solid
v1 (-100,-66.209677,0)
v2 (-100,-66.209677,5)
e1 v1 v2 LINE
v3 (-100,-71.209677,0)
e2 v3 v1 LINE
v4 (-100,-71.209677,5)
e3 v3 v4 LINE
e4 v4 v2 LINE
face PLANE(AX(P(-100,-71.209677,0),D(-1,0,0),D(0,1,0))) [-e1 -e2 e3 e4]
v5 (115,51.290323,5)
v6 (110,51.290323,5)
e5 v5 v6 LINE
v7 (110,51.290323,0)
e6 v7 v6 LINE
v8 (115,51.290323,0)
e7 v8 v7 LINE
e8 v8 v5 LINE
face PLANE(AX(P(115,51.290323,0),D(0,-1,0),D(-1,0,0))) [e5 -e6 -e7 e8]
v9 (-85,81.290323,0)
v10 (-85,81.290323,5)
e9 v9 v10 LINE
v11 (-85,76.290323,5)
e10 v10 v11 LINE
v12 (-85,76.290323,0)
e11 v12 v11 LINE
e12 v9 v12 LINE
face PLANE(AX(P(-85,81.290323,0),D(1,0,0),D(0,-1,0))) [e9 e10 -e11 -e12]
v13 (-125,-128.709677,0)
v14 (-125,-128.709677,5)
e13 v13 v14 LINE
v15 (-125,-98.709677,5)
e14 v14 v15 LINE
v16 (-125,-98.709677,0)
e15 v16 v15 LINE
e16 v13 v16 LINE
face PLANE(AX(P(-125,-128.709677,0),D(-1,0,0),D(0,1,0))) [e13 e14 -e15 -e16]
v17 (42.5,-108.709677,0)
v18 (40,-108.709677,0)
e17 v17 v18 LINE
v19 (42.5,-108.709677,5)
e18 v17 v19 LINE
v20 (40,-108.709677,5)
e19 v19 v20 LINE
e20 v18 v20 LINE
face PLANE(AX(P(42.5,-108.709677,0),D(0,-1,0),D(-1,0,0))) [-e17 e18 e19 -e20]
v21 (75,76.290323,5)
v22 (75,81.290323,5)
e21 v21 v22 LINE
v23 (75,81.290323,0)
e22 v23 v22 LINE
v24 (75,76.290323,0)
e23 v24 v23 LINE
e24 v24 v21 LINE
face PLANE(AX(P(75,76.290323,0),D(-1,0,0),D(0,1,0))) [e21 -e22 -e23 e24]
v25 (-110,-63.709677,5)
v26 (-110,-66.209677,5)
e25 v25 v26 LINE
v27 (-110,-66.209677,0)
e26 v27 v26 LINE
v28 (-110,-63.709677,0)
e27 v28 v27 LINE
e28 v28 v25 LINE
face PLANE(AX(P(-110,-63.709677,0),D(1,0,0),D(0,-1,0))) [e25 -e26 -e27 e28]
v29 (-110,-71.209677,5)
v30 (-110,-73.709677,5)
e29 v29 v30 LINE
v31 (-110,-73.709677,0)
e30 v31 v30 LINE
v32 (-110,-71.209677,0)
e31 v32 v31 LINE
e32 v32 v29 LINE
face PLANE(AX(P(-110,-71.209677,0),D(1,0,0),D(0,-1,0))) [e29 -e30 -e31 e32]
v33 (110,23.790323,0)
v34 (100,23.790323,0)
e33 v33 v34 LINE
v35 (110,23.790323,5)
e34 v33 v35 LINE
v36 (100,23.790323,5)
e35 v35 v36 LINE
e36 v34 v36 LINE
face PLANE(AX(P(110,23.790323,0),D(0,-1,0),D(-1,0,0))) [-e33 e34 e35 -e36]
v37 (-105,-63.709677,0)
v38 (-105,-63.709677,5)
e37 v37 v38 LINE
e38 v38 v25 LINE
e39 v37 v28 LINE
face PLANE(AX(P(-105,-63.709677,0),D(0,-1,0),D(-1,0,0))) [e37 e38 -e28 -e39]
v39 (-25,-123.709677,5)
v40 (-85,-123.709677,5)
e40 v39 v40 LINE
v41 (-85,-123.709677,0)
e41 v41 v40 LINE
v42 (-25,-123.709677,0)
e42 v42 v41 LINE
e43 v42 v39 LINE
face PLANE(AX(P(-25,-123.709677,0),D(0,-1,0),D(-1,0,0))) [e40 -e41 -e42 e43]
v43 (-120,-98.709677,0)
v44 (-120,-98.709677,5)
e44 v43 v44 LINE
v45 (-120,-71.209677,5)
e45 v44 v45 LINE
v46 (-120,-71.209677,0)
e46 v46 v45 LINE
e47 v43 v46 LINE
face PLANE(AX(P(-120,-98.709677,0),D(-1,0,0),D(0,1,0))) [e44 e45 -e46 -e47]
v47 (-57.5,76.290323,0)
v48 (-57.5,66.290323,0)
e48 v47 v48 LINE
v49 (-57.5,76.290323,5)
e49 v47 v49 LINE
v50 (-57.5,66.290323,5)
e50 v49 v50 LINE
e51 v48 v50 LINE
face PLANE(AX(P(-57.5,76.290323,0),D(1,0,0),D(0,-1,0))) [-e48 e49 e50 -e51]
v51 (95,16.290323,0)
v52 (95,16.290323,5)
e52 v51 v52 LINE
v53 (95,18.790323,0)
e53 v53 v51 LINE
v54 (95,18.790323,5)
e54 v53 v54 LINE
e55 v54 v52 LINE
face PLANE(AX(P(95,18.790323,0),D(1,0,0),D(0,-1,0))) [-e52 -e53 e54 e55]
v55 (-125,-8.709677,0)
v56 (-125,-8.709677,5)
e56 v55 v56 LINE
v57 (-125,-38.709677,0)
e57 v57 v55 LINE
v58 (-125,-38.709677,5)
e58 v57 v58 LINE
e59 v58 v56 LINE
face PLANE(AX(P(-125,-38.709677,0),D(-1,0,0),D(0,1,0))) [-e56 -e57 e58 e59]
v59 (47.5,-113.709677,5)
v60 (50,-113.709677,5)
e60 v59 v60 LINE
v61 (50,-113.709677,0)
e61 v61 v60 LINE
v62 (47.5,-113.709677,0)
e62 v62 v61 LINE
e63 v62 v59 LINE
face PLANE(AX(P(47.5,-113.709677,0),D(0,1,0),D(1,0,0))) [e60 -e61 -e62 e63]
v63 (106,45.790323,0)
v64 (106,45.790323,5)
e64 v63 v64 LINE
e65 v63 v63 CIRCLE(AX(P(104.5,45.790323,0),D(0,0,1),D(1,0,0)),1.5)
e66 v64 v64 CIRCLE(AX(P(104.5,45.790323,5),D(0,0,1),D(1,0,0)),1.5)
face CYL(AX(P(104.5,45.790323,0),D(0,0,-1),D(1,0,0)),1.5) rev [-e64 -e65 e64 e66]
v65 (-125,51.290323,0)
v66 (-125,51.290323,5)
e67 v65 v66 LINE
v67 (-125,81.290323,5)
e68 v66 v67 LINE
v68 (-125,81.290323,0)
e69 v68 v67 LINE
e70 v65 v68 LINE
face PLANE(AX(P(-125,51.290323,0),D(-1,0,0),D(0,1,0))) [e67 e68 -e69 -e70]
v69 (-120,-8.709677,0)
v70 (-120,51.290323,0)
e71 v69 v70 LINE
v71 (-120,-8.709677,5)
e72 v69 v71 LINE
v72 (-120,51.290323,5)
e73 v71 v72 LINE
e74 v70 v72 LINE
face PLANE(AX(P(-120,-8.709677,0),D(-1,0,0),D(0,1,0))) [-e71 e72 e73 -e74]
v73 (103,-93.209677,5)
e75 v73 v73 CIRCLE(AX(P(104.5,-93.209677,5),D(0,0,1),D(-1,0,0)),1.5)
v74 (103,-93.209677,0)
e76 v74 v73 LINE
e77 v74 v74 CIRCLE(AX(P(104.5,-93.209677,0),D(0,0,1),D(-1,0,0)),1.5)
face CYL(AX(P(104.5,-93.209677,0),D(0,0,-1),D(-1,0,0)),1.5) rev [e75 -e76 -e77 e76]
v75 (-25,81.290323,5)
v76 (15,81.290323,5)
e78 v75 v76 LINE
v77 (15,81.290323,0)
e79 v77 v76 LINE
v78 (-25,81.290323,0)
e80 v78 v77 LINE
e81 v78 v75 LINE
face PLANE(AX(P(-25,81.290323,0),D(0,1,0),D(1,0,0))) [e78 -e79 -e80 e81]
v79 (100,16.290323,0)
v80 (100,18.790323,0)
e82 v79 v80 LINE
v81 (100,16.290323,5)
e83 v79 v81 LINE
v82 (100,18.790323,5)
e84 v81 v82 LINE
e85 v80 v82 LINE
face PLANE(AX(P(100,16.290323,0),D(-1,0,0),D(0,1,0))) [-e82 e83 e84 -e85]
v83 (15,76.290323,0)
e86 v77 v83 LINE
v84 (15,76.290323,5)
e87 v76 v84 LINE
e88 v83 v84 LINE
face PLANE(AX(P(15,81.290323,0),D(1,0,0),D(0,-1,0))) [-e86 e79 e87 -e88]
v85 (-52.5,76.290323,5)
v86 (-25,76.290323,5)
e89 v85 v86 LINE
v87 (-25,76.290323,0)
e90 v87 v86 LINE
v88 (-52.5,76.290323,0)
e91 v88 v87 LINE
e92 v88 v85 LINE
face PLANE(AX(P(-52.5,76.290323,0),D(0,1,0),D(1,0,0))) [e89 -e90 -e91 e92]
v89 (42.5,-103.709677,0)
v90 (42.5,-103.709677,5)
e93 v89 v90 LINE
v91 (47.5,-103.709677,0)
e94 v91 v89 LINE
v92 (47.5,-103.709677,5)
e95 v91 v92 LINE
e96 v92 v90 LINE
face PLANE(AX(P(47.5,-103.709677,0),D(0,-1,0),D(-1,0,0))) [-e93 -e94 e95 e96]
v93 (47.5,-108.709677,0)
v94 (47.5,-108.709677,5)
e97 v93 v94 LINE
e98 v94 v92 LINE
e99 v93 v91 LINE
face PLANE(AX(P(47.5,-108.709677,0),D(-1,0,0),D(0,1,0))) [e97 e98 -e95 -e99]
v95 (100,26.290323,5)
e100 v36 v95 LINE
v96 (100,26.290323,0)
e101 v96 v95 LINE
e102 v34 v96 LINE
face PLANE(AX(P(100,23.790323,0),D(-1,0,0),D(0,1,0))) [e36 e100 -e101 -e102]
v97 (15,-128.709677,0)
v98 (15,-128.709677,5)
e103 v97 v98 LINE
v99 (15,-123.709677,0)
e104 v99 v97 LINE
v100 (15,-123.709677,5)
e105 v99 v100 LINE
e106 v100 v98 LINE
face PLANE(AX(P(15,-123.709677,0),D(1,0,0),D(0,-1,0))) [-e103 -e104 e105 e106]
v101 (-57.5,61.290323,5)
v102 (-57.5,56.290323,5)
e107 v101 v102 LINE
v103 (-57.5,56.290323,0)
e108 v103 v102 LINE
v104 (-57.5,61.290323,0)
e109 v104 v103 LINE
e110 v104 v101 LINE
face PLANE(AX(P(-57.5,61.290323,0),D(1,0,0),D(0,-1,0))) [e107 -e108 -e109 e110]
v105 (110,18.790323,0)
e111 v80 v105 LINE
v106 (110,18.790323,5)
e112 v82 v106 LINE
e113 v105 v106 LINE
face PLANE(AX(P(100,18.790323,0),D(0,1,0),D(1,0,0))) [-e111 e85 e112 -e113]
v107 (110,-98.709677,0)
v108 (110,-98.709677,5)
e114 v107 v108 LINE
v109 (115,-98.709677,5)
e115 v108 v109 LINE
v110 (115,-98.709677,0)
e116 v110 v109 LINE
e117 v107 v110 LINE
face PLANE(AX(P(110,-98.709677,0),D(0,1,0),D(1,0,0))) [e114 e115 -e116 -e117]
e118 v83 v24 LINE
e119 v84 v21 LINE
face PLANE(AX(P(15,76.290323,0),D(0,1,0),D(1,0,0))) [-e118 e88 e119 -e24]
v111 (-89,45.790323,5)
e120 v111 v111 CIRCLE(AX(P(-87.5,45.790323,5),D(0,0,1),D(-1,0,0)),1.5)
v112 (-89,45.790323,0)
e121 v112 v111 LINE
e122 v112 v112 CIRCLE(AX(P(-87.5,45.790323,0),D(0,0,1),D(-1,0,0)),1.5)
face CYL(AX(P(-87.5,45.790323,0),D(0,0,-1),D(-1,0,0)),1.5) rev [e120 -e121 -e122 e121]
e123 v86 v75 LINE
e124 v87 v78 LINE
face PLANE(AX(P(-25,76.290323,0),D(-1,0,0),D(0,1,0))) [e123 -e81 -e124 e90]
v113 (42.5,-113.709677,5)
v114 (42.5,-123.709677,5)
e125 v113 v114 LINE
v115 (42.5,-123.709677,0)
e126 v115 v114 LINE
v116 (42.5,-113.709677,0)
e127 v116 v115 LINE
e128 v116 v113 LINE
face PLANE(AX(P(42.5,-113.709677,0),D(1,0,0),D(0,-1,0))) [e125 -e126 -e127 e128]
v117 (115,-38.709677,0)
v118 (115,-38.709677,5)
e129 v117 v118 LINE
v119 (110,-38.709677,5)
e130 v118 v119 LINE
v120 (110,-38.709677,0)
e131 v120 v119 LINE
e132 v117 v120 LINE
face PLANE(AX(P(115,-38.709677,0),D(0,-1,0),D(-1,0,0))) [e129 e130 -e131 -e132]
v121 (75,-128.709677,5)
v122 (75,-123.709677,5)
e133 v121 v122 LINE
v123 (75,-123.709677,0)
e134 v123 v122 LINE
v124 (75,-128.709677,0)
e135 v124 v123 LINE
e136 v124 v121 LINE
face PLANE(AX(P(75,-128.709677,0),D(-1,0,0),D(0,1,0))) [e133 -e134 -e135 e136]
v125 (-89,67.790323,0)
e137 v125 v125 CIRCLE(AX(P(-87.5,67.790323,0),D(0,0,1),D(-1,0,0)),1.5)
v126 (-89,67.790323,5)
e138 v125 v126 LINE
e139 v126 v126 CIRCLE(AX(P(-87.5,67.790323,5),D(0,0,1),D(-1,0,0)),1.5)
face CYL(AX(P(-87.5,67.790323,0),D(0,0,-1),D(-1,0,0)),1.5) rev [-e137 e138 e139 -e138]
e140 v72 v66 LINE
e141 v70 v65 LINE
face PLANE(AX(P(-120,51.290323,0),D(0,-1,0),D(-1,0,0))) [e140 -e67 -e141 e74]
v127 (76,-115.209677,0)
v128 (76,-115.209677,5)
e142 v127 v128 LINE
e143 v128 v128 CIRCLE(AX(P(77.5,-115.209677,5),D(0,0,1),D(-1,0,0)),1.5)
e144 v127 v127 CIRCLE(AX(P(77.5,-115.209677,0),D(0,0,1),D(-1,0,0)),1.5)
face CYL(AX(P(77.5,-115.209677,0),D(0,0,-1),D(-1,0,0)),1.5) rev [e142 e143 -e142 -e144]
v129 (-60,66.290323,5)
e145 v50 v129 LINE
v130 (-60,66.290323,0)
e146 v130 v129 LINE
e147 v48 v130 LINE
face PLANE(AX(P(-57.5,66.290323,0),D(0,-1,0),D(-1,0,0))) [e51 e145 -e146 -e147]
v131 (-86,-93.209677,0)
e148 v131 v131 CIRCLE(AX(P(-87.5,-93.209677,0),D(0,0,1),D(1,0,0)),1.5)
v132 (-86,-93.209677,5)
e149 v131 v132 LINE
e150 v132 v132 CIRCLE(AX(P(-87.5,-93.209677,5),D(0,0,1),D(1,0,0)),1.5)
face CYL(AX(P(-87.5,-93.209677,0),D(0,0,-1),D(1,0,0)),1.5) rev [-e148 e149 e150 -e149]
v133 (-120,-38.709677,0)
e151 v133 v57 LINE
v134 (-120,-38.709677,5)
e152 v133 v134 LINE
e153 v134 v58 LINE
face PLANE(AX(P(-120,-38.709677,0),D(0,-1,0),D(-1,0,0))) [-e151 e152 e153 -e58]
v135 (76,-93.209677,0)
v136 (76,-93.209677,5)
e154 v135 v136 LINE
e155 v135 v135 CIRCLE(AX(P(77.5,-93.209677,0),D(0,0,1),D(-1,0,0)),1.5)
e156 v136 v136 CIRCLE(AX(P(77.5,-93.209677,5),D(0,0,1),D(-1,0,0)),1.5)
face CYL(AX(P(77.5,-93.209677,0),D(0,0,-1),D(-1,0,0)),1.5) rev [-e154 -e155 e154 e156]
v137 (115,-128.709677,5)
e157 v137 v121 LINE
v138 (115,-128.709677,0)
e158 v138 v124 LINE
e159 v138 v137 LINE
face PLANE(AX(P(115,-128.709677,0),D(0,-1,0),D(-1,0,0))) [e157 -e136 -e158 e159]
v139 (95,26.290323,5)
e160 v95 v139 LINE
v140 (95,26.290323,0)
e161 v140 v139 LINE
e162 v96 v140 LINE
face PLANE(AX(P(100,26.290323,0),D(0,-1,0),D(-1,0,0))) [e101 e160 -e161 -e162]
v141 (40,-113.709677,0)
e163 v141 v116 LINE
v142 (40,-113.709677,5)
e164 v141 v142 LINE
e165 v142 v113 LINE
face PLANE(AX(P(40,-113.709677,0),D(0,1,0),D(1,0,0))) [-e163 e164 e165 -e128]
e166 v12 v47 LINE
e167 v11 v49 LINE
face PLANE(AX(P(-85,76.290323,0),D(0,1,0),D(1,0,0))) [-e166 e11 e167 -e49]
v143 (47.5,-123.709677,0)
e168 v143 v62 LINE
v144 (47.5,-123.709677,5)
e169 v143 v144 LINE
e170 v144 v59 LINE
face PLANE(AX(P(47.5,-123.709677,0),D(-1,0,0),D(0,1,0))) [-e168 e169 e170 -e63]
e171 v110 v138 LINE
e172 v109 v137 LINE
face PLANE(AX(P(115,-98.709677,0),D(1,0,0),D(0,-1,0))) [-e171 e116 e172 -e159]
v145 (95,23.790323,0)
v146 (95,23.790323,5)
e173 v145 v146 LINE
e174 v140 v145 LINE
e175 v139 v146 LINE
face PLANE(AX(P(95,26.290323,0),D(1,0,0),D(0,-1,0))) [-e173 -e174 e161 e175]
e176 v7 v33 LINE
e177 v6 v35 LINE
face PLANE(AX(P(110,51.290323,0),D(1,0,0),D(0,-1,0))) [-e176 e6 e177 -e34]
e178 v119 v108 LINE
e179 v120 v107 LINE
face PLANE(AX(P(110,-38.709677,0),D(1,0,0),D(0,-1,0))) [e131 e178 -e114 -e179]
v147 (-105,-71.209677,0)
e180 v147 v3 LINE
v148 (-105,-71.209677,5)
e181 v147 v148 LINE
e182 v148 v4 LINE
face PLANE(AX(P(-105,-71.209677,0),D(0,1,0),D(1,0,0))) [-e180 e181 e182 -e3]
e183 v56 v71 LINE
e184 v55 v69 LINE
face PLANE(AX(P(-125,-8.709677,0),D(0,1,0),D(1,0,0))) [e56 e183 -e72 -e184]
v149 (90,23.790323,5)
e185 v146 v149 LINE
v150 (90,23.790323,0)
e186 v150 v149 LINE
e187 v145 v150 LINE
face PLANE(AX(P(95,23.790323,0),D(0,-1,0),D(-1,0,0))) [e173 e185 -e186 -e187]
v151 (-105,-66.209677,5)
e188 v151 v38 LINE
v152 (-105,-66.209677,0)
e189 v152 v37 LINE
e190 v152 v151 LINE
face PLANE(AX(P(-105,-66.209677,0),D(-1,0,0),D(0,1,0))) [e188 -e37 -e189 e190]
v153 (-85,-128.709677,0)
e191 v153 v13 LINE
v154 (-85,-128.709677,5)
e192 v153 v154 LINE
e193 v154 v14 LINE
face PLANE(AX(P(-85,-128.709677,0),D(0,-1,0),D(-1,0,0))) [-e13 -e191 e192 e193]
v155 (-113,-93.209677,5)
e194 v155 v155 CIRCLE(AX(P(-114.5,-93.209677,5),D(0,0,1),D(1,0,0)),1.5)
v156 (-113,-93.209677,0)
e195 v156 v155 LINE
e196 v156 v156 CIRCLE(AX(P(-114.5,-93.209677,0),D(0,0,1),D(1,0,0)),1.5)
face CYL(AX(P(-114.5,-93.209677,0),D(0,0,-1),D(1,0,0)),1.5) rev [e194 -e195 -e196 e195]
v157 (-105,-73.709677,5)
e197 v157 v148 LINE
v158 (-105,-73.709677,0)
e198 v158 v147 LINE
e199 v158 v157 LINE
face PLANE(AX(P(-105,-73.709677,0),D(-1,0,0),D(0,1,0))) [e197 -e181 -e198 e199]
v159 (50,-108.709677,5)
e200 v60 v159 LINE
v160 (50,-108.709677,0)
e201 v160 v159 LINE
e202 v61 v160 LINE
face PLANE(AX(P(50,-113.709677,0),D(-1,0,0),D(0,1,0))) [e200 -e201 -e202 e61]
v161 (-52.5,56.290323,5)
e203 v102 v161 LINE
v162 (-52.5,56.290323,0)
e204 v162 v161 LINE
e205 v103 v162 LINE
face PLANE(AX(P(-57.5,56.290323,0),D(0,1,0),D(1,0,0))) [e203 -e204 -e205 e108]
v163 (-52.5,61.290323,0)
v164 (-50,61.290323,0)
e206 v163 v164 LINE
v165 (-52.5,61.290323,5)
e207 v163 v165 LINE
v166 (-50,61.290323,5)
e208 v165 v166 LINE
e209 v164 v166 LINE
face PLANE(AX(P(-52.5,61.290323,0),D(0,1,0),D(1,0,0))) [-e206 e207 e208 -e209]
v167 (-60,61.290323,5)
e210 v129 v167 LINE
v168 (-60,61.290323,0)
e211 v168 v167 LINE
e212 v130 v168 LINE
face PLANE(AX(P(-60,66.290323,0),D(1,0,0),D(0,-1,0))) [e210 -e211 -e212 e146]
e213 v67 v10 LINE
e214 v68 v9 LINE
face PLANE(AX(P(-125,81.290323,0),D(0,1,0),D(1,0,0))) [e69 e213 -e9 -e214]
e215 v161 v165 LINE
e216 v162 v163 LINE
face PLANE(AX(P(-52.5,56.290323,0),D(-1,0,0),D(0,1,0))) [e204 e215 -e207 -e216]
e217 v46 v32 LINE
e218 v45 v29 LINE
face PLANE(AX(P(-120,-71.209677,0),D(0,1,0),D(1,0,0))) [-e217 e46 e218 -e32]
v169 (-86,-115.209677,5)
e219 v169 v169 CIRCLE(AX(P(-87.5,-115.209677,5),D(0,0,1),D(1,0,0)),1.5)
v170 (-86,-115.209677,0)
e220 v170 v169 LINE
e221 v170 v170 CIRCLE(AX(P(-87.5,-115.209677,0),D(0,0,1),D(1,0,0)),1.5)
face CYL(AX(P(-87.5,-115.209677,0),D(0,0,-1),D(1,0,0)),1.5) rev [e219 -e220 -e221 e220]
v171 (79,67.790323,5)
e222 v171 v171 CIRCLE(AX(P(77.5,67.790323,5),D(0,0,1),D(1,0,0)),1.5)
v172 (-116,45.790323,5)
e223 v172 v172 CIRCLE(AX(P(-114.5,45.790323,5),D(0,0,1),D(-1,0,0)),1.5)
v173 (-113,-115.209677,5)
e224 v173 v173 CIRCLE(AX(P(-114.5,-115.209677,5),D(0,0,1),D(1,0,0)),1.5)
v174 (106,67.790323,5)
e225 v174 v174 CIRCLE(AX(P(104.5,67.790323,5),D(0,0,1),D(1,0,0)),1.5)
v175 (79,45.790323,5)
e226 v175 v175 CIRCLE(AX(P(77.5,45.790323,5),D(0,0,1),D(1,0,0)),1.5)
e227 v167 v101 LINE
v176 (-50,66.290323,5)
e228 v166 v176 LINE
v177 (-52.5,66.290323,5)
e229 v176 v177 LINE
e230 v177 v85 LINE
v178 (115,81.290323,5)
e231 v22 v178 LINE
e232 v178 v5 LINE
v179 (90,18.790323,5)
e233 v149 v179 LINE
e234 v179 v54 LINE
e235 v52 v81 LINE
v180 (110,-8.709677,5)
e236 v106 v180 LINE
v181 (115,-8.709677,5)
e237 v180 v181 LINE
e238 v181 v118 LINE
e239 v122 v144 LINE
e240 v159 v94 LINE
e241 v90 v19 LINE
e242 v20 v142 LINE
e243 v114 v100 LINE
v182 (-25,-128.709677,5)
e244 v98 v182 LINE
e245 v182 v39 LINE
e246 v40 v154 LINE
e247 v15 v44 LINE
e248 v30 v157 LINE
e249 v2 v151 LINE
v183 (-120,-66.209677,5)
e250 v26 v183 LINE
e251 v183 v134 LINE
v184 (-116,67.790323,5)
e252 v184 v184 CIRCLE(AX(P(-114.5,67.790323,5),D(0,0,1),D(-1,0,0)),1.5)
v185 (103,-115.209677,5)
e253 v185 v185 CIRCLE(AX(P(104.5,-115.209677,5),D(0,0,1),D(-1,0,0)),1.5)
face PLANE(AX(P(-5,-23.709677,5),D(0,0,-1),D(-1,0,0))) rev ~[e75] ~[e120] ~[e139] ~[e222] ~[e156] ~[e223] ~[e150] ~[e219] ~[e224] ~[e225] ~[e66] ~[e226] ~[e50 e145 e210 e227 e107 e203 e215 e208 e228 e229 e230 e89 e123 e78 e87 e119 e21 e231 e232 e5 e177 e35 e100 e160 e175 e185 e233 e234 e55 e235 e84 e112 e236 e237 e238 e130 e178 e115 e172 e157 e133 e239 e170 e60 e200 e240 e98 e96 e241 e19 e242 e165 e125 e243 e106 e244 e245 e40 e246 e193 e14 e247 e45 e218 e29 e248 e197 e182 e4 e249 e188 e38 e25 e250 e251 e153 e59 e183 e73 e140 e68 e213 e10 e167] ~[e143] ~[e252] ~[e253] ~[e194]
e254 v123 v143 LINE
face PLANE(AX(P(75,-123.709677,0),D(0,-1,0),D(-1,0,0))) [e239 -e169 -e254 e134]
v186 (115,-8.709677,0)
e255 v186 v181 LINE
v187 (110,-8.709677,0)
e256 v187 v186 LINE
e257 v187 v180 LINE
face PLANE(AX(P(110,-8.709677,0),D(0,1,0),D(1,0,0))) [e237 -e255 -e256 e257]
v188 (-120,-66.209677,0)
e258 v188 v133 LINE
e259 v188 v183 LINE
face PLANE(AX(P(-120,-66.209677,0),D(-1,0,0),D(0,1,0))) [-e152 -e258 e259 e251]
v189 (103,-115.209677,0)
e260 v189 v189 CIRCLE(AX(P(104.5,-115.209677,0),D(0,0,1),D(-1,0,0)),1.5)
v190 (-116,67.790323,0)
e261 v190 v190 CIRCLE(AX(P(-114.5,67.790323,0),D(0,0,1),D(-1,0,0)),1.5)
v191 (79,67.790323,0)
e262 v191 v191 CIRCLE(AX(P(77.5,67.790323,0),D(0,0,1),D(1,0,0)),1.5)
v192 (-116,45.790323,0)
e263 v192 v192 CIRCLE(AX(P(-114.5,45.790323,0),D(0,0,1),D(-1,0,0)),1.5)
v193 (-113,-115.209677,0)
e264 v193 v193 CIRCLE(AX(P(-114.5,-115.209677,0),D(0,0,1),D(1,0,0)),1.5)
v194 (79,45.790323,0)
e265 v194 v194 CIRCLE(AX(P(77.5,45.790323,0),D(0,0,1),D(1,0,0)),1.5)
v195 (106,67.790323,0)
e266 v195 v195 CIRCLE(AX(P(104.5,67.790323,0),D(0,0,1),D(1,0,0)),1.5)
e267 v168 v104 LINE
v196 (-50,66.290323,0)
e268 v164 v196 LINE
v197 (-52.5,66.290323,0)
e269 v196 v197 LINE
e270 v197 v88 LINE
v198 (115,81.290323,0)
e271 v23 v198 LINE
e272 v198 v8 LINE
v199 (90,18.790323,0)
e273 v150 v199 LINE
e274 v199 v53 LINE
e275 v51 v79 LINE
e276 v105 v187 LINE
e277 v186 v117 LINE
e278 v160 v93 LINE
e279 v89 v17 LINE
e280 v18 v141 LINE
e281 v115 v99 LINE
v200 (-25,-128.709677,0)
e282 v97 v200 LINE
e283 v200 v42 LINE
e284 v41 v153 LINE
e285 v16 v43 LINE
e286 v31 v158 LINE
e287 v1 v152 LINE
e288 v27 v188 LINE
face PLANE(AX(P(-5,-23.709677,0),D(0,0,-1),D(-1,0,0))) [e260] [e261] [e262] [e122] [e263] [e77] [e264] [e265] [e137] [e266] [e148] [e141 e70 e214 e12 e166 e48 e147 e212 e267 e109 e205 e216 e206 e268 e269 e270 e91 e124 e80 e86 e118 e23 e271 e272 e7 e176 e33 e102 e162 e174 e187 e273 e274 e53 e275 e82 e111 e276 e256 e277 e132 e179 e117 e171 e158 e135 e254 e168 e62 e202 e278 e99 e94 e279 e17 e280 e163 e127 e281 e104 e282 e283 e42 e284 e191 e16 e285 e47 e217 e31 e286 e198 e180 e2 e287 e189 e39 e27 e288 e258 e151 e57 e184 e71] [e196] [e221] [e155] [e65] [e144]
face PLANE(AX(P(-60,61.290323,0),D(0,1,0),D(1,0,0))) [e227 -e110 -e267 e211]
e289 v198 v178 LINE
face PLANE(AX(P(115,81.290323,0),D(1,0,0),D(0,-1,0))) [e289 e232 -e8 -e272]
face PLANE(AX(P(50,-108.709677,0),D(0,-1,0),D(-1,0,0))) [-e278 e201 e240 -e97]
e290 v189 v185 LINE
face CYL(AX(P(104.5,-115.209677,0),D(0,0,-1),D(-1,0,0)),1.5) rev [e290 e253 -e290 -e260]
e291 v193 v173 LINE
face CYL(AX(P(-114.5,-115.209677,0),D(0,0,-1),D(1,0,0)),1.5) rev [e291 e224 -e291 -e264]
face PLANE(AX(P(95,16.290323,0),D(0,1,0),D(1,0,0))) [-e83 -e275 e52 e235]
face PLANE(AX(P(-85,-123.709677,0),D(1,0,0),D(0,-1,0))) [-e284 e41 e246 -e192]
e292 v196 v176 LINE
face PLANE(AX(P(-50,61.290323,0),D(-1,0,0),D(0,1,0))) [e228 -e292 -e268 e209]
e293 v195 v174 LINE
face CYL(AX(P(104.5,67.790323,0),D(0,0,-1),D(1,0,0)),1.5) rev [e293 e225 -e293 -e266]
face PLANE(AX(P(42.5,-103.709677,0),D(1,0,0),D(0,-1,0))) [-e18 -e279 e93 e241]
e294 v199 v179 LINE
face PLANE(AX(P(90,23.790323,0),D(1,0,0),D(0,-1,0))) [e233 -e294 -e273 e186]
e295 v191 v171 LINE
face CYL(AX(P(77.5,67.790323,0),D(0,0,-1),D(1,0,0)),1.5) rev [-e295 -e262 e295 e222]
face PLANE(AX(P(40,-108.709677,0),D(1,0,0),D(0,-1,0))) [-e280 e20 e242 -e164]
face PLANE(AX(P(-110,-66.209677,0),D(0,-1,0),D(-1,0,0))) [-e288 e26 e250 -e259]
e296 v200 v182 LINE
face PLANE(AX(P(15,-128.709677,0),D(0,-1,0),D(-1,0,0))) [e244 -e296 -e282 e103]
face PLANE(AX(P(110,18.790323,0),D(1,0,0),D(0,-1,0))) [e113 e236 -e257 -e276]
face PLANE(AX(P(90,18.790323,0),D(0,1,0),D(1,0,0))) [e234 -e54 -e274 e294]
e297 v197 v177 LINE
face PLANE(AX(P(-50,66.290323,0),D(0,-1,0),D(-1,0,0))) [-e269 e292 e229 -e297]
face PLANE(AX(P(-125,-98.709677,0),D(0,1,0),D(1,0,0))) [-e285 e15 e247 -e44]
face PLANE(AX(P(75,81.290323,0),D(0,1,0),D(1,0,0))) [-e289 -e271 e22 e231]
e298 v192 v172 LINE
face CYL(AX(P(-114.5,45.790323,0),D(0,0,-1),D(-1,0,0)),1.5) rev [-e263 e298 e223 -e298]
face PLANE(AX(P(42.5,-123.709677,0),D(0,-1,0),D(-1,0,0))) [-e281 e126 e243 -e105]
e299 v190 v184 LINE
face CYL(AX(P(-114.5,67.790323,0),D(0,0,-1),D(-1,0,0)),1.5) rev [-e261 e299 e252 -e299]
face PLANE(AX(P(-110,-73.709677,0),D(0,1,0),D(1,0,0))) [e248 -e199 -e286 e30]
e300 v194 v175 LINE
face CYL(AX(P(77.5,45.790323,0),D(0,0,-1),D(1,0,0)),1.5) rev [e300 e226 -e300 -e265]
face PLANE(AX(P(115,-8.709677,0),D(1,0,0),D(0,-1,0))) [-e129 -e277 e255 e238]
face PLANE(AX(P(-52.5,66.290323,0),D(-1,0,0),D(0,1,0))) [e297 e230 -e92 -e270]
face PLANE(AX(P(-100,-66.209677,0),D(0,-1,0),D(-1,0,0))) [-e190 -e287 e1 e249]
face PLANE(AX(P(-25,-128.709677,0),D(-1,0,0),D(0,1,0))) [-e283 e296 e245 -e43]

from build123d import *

# Parameters (mm, degrees)
ESQUISSE1_R        = 1.5
BOSS_EXTRU_1_DEPTH = 5


with BuildPart() as part:
    # Esquisse1 → Boss.-Extru.1 (new body)
    with BuildSketch(Plane.XY):
        Polygon((-25, 81.290322581), (15, 81.290322581), (15, 76.290322581), (75, 76.290322581), (75, 81.290322581), (115, 81.290322581), (115, 51.290322581), (110, 51.290322581), (110, 23.790322581), (100, 23.790322581), (100, 26.290322581), (95, 26.290322581), (95, 23.790322581), (90, 23.790322581), (90, 18.790322581), (95, 18.790322581), (95, 16.290322581), (100, 16.290322581), (100, 18.790322581), (110, 18.790322581), (110, -8.709677419), (115, -8.709677419), (115, -38.709677419), (110, -38.709677419), (110, -98.709677419), (115, -98.709677419), (115, -128.709677419), (75, -128.709677419), (75, -123.709677419), (47.5, -123.709677419), (47.5, -113.709677419), (50, -113.709677419), (50, -108.709677419), (47.5, -108.709677419), (47.5, -103.709677419), (42.5, -103.709677419), (42.5, -108.709677419), (40, -108.709677419), (40, -113.709677419), (42.5, -113.709677419), (42.5, -123.709677419), (15, -123.709677419), (15, -128.709677419), (-25, -128.709677419), (-25, -123.709677419), (-85, -123.709677419), (-85, -128.709677419), (-125, -128.709677419), (-125, -98.709677419), (-120, -98.709677419), (-120, -71.209677419), (-110, -71.209677419), (-110, -73.709677419), (-105, -73.709677419), (-105, -71.209677419), (-100, -71.209677419), (-100, -66.209677419), (-105, -66.209677419), (-105, -63.709677419), (-110, -63.709677419), (-110, -66.209677419), (-120, -66.209677419), (-120, -38.709677419), (-125, -38.709677419), (-125, -8.709677419), (-120, -8.709677419), (-120, 51.290322581), (-125, 51.290322581), (-125, 81.290322581), (-85, 81.290322581), (-85, 76.290322581), (-57.5, 76.290322581), (-57.5, 66.290322581), (-60, 66.290322581), (-60, 61.290322581), (-57.5, 61.290322581), (-57.5, 56.290322581), (-52.5, 56.290322581), (-52.5, 61.290322581), (-50, 61.290322581), (-50, 66.290322581), (-52.5, 66.290322581), (-52.5, 76.290322581), (-25, 76.290322581), align=None)
        with Locations((-114.5, -93.209677419)):
            Circle(ESQUISSE1_R, mode=Mode.SUBTRACT)
        with Locations((-114.5, -115.209677419)):
            Circle(ESQUISSE1_R, mode=Mode.SUBTRACT)
        with Locations((-87.5, -115.209677419)):
            Circle(ESQUISSE1_R, mode=Mode.SUBTRACT)
        with Locations((-87.5, -93.209677419)):
            Circle(ESQUISSE1_R, mode=Mode.SUBTRACT)
        with Locations(Location((-87.5, 45.790322581, 0), (0, 0, 180))):
            Circle(ESQUISSE1_R, mode=Mode.SUBTRACT)
        with Locations(Location((-87.5, 67.790322581, 0), (0, 0, 180))):
            Circle(ESQUISSE1_R, mode=Mode.SUBTRACT)
        with Locations(Location((-114.5, 67.790322581, 0), (0, 0, 180))):
            Circle(ESQUISSE1_R, mode=Mode.SUBTRACT)
        with Locations(Location((-114.5, 45.790322581, 0), (0, 0, 180))):
            Circle(ESQUISSE1_R, mode=Mode.SUBTRACT)
        with Locations((104.5, 67.790322581)):
            Circle(ESQUISSE1_R, mode=Mode.SUBTRACT)
        with Locations((104.5, 45.790322581)):
            Circle(ESQUISSE1_R, mode=Mode.SUBTRACT)
        with Locations((77.5, 45.790322581)):
            Circle(ESQUISSE1_R, mode=Mode.SUBTRACT)
        with Locations((77.5, 67.790322581)):
            Circle(ESQUISSE1_R, mode=Mode.SUBTRACT)
        with Locations(Location((104.5, -93.209677419, 0), (0, 0, 180))):
            Circle(ESQUISSE1_R, mode=Mode.SUBTRACT)
        with Locations(Location((104.5, -115.209677419, 0), (0, 0, 180))):
            Circle(ESQUISSE1_R, mode=Mode.SUBTRACT)
        with Locations(Location((77.5, -115.209677419, 0), (0, 0, 180))):
            Circle(ESQUISSE1_R, mode=Mode.SUBTRACT)
        with Locations(Location((77.5, -93.209677419, 0), (0, 0, 180))):
            Circle(ESQUISSE1_R, mode=Mode.SUBTRACT)
    extrude(amount=BOSS_EXTRU_1_DEPTH)


solid = part.part
